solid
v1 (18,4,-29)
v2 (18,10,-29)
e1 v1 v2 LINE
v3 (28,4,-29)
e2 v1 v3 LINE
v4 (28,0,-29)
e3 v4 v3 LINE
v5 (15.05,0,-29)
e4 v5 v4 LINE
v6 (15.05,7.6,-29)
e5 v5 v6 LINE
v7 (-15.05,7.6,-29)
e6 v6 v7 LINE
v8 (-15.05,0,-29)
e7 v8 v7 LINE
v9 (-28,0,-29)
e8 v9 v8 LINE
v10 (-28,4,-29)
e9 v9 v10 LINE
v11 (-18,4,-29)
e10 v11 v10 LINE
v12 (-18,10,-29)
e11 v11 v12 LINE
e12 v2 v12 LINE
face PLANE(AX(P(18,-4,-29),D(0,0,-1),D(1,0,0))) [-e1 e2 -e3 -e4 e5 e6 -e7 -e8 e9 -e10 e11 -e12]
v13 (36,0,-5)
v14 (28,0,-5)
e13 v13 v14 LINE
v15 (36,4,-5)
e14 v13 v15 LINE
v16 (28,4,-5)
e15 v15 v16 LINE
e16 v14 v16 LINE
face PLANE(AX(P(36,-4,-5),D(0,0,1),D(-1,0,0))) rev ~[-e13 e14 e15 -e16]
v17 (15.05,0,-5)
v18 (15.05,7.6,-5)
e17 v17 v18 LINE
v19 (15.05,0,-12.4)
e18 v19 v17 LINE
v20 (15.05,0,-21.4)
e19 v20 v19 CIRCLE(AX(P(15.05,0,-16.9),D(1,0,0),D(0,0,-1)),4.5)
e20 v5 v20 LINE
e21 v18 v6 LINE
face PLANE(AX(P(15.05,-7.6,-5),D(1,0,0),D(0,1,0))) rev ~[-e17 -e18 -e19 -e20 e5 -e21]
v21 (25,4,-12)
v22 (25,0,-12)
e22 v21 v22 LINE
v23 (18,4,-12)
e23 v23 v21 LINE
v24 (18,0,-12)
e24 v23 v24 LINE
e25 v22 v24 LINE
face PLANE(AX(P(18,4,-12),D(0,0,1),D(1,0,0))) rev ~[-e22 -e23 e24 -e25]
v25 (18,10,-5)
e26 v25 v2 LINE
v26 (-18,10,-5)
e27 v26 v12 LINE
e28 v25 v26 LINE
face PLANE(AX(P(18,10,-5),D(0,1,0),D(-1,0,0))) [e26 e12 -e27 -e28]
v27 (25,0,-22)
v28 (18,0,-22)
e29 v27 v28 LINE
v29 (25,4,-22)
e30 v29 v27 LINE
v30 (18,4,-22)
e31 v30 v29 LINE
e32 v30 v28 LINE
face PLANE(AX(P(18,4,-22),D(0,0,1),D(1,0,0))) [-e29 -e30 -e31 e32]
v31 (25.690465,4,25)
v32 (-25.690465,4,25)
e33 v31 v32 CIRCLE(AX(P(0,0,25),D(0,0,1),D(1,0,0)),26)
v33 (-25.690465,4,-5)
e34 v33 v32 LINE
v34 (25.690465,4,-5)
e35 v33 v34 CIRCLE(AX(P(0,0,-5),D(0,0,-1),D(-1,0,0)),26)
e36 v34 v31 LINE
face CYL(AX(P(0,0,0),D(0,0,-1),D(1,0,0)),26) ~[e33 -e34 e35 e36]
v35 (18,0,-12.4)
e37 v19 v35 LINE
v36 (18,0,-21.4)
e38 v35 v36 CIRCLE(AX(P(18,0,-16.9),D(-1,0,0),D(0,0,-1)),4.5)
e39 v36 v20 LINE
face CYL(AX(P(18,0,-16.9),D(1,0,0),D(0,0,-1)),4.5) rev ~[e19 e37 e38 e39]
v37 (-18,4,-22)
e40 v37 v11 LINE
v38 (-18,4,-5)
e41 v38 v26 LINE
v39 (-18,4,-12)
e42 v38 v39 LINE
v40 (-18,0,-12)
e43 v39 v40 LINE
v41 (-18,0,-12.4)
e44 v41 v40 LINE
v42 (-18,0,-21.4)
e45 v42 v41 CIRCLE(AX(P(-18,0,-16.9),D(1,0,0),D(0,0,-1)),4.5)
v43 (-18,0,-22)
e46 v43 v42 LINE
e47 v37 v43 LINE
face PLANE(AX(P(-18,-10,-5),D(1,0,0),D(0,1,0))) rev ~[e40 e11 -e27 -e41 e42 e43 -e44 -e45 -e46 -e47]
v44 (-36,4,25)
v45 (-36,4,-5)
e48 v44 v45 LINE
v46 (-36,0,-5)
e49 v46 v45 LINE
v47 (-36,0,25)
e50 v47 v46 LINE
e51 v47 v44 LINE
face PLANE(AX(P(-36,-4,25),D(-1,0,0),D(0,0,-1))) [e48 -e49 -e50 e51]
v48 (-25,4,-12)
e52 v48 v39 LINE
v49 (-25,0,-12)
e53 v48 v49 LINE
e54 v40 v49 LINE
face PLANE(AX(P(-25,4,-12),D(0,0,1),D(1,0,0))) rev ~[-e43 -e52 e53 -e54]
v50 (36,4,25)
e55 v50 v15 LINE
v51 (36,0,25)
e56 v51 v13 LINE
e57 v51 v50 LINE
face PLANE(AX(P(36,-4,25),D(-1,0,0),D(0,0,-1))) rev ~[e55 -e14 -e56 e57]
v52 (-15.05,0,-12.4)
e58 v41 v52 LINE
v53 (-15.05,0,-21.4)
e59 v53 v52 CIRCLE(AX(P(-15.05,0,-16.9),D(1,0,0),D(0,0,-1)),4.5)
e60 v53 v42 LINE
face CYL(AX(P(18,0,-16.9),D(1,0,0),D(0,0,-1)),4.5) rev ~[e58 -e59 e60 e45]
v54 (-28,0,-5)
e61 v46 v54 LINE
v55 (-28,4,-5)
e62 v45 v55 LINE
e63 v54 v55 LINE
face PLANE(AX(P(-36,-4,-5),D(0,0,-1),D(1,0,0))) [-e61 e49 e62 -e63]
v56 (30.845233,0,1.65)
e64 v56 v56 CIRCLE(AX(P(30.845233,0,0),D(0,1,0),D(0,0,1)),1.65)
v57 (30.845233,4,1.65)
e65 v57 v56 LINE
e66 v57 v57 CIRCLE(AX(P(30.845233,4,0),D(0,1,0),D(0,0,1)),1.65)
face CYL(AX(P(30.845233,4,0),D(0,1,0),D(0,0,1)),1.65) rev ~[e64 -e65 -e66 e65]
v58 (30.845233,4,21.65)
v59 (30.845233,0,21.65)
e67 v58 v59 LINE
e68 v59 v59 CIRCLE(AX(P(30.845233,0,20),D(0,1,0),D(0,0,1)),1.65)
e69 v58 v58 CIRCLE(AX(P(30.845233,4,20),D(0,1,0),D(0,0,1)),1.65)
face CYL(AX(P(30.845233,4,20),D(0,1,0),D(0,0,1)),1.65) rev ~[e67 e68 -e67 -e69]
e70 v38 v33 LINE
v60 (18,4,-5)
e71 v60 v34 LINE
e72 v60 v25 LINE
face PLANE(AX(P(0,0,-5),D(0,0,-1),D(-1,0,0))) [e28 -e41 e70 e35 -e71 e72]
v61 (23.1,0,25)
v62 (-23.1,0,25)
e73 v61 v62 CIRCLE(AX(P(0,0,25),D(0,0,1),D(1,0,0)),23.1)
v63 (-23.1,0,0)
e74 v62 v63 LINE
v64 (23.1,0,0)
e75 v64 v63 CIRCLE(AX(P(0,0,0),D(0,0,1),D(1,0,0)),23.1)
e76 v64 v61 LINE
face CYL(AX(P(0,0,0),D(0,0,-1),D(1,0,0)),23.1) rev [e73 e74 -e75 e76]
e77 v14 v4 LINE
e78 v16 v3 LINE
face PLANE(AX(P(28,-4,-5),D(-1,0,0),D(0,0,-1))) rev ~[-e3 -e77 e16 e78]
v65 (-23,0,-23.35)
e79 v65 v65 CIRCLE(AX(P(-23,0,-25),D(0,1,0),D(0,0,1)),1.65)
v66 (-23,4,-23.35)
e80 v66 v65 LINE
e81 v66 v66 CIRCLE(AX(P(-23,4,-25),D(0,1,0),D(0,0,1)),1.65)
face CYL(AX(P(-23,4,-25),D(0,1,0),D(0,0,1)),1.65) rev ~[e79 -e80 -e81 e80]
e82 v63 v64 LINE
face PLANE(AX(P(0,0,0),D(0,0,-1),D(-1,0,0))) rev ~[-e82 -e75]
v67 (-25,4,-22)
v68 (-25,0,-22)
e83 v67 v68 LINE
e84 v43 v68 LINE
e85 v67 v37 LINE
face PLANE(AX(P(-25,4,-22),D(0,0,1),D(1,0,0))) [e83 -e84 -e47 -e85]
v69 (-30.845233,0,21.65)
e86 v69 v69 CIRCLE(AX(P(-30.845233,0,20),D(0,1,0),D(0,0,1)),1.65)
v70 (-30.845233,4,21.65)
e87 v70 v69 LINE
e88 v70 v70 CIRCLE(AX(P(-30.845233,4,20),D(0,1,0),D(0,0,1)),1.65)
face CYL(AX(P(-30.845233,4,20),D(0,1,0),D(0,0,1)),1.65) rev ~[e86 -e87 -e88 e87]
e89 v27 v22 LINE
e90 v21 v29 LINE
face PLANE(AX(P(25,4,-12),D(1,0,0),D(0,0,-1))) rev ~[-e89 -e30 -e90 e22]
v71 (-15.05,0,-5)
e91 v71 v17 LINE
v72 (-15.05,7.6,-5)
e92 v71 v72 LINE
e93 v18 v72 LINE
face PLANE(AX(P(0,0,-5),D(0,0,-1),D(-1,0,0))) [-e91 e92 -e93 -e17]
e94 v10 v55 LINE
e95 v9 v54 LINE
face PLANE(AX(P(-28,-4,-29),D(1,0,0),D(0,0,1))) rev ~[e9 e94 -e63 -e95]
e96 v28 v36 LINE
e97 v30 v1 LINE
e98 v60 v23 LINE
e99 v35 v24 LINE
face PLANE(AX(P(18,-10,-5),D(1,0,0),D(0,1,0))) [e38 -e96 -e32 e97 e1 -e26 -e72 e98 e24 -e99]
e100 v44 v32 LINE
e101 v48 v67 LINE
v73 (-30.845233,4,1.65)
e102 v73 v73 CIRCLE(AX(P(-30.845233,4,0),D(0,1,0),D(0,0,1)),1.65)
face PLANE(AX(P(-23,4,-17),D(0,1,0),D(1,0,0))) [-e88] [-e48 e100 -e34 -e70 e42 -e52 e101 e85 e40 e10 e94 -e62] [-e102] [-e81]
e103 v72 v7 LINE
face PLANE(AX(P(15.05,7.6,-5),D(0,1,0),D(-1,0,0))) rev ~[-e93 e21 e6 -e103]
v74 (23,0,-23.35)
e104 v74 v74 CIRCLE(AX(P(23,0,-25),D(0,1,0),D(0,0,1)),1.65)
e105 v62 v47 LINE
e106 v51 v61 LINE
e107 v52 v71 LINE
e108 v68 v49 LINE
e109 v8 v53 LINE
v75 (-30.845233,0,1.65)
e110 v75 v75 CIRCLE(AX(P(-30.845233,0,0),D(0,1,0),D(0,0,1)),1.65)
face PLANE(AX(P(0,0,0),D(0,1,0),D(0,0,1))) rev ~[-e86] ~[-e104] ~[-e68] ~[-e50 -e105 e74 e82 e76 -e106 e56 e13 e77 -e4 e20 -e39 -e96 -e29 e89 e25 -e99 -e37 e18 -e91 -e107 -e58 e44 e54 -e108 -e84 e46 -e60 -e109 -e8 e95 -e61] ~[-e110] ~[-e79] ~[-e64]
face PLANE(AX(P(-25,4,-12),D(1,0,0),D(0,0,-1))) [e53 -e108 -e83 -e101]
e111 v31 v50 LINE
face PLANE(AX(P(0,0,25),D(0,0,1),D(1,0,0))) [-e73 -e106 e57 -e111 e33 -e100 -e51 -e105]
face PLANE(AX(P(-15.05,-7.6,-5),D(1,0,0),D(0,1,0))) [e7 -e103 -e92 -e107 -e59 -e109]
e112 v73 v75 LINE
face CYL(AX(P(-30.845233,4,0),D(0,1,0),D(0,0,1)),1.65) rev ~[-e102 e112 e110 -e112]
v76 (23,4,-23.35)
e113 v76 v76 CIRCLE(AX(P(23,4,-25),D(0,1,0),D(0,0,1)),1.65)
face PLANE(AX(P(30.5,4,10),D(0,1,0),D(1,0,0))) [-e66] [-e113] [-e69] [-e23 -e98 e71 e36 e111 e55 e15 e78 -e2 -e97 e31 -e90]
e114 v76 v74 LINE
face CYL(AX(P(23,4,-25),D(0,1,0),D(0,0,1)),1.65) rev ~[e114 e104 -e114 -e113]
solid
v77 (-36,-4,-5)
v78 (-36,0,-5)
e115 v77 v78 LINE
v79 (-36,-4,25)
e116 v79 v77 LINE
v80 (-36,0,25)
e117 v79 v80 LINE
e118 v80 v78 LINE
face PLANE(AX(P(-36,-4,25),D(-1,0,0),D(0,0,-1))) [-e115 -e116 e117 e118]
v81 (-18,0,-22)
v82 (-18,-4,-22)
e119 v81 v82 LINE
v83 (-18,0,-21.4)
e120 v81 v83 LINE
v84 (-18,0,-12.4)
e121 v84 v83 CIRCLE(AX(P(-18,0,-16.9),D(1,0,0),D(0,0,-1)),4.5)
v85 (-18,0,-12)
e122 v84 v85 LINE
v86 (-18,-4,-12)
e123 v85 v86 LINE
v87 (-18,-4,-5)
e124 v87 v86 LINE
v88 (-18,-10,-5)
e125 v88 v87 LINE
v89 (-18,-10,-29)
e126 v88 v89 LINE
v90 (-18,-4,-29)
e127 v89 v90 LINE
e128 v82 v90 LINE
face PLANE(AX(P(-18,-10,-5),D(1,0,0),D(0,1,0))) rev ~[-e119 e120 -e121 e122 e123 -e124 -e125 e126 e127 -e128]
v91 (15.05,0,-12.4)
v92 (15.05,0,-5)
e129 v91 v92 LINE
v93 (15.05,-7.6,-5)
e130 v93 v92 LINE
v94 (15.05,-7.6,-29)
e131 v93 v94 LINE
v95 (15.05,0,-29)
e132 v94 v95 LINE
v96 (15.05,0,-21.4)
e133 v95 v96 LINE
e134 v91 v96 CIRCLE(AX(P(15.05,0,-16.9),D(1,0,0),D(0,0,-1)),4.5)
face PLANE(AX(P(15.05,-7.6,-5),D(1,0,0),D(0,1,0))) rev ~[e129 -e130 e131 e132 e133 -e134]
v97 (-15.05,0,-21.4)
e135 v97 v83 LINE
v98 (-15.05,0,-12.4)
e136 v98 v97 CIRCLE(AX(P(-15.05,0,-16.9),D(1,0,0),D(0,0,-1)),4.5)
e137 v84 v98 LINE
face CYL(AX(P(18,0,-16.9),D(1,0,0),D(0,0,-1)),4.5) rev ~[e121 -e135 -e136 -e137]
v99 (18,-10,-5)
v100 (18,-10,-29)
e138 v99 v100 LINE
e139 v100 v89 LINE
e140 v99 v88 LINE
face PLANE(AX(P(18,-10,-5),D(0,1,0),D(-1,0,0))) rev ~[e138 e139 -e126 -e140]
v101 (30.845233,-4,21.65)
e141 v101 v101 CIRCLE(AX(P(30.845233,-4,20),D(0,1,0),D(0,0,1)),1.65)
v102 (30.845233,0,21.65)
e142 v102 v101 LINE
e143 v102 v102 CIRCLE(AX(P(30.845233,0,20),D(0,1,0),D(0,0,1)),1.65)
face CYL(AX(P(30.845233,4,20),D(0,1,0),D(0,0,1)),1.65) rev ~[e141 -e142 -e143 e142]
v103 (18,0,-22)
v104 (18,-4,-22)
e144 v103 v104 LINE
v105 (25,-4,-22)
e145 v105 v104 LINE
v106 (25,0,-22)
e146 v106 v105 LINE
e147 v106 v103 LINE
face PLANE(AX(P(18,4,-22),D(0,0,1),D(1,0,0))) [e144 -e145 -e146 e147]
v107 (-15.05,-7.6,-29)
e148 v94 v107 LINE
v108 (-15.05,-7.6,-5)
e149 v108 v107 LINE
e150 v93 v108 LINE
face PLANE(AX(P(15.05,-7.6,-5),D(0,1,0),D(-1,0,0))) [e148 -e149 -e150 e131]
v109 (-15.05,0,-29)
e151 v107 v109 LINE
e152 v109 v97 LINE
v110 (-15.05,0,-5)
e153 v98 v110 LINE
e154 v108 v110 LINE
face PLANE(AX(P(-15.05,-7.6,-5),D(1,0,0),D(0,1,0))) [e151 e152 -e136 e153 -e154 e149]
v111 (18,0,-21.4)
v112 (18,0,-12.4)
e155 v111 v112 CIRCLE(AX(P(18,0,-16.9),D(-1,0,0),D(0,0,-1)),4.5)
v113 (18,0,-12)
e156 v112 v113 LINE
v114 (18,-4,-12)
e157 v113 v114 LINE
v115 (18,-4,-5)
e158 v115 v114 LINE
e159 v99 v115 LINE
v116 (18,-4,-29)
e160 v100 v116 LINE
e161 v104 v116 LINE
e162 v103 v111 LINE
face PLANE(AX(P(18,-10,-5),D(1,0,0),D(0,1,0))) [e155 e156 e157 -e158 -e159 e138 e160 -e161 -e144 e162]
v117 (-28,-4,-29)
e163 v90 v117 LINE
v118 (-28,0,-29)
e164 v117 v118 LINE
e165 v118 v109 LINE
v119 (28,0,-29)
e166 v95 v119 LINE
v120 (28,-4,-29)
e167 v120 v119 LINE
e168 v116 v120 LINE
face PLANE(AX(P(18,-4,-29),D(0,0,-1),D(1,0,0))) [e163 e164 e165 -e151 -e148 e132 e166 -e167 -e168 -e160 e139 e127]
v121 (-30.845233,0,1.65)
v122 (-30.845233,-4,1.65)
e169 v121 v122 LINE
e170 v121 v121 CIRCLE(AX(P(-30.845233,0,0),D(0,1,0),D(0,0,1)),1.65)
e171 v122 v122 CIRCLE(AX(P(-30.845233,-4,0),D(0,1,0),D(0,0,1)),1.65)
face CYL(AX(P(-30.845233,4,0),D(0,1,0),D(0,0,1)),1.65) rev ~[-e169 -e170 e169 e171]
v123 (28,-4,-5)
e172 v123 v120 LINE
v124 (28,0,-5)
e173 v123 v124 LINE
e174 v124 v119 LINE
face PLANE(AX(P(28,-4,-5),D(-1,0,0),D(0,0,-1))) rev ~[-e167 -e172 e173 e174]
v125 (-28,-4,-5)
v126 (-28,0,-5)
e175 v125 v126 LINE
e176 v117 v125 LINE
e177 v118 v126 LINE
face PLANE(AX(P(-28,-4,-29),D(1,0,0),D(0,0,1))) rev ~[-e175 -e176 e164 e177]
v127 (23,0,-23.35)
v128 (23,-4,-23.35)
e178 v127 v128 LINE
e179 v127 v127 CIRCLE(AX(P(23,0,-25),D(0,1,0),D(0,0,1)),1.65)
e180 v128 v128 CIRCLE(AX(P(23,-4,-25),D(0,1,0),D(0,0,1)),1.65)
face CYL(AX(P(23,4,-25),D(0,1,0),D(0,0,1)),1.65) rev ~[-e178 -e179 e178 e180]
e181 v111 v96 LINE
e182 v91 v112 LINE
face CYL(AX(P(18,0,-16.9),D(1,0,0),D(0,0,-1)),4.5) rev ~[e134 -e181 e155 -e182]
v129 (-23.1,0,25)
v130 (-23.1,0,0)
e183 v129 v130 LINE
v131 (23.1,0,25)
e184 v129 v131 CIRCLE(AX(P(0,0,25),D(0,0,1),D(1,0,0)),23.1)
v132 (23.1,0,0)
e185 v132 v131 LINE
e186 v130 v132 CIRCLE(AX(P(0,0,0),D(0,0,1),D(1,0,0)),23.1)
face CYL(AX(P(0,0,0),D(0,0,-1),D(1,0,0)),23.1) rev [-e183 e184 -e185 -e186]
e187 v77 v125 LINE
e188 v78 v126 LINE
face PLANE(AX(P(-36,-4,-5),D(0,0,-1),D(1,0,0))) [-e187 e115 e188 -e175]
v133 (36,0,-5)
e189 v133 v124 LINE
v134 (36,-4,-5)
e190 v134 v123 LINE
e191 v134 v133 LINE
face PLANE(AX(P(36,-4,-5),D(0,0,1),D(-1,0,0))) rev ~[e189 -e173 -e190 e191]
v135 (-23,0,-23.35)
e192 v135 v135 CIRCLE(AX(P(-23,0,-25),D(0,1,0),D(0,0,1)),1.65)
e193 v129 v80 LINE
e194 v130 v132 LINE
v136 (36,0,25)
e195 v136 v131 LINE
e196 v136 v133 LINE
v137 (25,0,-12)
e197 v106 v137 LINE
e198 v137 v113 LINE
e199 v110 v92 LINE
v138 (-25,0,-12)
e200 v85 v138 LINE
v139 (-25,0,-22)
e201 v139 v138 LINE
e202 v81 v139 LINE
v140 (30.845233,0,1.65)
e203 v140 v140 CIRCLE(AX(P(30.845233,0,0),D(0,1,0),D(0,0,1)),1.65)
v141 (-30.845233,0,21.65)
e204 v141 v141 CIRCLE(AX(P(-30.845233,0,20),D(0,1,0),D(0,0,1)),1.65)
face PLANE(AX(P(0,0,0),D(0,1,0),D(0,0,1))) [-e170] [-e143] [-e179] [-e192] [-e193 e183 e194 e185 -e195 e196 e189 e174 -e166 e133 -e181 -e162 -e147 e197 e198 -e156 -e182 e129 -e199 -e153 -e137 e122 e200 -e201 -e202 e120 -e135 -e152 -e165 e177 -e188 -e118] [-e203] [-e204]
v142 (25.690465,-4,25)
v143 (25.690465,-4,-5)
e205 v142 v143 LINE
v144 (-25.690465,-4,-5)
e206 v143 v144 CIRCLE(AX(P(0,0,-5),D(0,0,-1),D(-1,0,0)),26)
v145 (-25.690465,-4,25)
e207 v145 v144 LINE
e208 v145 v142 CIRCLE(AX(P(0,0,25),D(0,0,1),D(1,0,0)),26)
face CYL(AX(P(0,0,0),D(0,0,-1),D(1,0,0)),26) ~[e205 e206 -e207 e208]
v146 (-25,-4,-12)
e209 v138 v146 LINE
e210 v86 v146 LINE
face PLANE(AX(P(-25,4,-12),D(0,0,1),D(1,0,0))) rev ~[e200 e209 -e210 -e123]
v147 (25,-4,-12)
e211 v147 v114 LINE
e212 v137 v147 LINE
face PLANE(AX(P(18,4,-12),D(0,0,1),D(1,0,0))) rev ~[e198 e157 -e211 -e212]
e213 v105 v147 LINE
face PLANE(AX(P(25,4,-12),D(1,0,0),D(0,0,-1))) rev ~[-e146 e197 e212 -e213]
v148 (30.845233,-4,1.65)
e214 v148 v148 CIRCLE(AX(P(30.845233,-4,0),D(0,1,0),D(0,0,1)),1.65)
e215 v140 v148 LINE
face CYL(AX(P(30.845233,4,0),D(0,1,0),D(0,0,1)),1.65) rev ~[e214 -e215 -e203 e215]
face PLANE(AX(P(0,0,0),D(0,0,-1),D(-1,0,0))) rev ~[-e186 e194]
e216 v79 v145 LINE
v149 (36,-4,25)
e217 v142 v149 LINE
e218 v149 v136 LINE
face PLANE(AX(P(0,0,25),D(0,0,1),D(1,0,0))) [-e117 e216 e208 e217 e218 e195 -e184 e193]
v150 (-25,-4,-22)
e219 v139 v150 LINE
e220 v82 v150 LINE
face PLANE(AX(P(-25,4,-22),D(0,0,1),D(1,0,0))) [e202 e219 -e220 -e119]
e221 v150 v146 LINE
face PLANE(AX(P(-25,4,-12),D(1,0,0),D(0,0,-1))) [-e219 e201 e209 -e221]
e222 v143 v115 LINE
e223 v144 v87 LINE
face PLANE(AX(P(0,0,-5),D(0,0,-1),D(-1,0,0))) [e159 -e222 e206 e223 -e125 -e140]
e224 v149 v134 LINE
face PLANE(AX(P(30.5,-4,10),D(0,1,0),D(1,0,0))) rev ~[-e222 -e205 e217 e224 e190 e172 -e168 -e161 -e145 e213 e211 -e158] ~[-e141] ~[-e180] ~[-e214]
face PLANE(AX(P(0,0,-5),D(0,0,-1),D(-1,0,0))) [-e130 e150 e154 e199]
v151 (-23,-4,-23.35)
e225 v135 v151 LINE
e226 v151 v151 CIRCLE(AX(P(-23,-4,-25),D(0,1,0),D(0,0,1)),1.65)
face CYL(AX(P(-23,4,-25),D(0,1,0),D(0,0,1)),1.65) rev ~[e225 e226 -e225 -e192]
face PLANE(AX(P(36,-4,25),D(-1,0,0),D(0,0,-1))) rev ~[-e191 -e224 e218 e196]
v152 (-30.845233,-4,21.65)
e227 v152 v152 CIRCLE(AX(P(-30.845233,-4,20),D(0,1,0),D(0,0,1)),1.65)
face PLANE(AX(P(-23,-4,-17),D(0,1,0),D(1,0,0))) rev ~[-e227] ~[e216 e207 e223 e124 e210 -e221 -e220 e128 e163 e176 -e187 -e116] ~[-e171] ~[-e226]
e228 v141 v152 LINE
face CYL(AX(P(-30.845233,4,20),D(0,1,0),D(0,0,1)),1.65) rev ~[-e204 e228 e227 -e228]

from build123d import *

# Parameters (mm, degrees)
SKETCH_1_R           = 26
SKETCH_1_R_2         = 23.1
EXTRUDE_1_DEPTH      = 25
EXTRUDE_START        = 5
SKETCH_2_R           = 26
EXTRUDE_2_DEPTH      = 5
SKETCH_3_W           = 36
SKETCH_3_H           = 20
SKETCH_3_W_2         = 30.1
SKETCH_3_H_2         = 15.2
EXTRUDE_3_DEPTH      = 24
CUT_EXTRUDE_1_REACH  = 60.762
SKETCH_4_R           = 4.5
EXTRUDE_4_DEPTH      = 4
EXTRUDE_4_DEPTH_BACK = 4
SKETCH_5_W           = 10
SKETCH_5_H           = 24
SKETCH_5_W_2         = 11
SKETCH_5_H_2         = 30
CUT_EXTRUDE_2_REACH  = 57.109
SKETCH_6_R           = 1.65
SKETCH_6_W           = 7
SKETCH_6_H           = 10


with BuildPart() as part:
    # ｽｹｯﾁ1 → ﾎﾞｽ - 押し出し1 (new body)
    with BuildSketch(Plane.XY):
        Circle(SKETCH_1_R)
        Circle(SKETCH_1_R_2, mode=Mode.SUBTRACT)
    extrude(amount=EXTRUDE_1_DEPTH)

    # ｽｹｯﾁ2 → ﾎﾞｽ - 押し出し2 (add)
    with BuildSketch(Plane(origin=(0, 0, 0), x_dir=(-1, 0, 0), z_dir=(0, 0, -1)).offset(EXTRUDE_START)):
        Circle(SKETCH_2_R)
    extrude(amount=-EXTRUDE_2_DEPTH)

    # ｽｹｯﾁ3 → ﾎﾞｽ - 押し出し3 (add)
    with BuildSketch(Plane(origin=(0, 0, -5), x_dir=(-1, 0, 0), z_dir=(0, 0, -1))):
        Rectangle(SKETCH_3_W, SKETCH_3_H)
        Rectangle(SKETCH_3_W_2, SKETCH_3_H_2, mode=Mode.SUBTRACT)
    extrude(amount=EXTRUDE_3_DEPTH)

    # ｶｯﾄ - 押し出し1: up to this face of the body (flat: up to its plane)
    cut_extrude_1_end = Plane(part.part.faces().sort_by_distance((-18, 0, -17))[0])
    # ｽｹｯﾁ4 → ｶｯﾄ - 押し出し1 (cut, up to the picked face)
    with BuildSketch(Plane(origin=(18, 0, 0), x_dir=(0, 0, -1), z_dir=(1, 0, 0)), mode=Mode.PRIVATE) as cut_extrude_1_sk1:
        with Locations((16.9, 0)):
            Circle(SKETCH_4_R)
    cut_extrude_1_tool1 = split(extrude(cut_extrude_1_sk1.sketch, amount=-CUT_EXTRUDE_1_REACH, mode=Mode.PRIVATE), bisect_by=cut_extrude_1_end, keep=Keep.BOTH, mode=Mode.PRIVATE)
    add(cut_extrude_1_tool1.solids().sort_by(Axis((18, 0, -16.9), (-1, 0, 0)))[0], mode=Mode.SUBTRACT)

    # ｽｹｯﾁ5 → ﾎﾞｽ - 押し出し4 (add, two sides: drawn at the far end of the back side and taken through both)
    with BuildSketch(Plane(origin=(0, 0, 0), x_dir=(1, 0, 0), z_dir=(0, 1, 0)).offset(-EXTRUDE_4_DEPTH_BACK)):
        Polygon((28, 5), (25, 5), (25, -25), (36, -25), (36, 5), align=None)
        with Locations((23, 17)):
            Rectangle(SKETCH_5_W, SKETCH_5_H)
        Polygon((-28, 29), (-28, 5), (-25, 5), (-18, 5), (-18, 29), align=None)
        with Locations((-30.5, -10)):
            Rectangle(SKETCH_5_W_2, SKETCH_5_H_2)
    extrude(amount=EXTRUDE_4_DEPTH + EXTRUDE_4_DEPTH_BACK)

    # ｽｹｯﾁ6 → ｶｯﾄ - 押し出し2 (cut, up to next)
    with BuildSketch(Plane(origin=(0, 4, 0), x_dir=(1, 0, 0), z_dir=(0, 1, 0)), mode=Mode.PRIVATE) as cut_extrude_2_sk1:
        with Locations(Location((23, 25, 0), (0, 0, 270))):
            Circle(SKETCH_6_R)
    cut_extrude_2_tool1 = extrude(cut_extrude_2_sk1.sketch, amount=-CUT_EXTRUDE_2_REACH, mode=Mode.PRIVATE) & part.part
    # ｽｹｯﾁ6 → ｶｯﾄ - 押し出し2 (cut, up to next)
    with BuildSketch(Plane(origin=(0, 4, 0), x_dir=(1, 0, 0), z_dir=(0, 1, 0)), mode=Mode.PRIVATE) as cut_extrude_2_sk2:
        with Locations(Location((30.845232579, 0, 0), (0, 0, 270))):
            Circle(SKETCH_6_R)
    cut_extrude_2_tool2 = extrude(cut_extrude_2_sk2.sketch, amount=-CUT_EXTRUDE_2_REACH, mode=Mode.PRIVATE) & part.part
    # ｽｹｯﾁ6 → ｶｯﾄ - 押し出し2 (cut, up to next)
    with BuildSketch(Plane(origin=(0, 4, 0), x_dir=(1, 0, 0), z_dir=(0, 1, 0)), mode=Mode.PRIVATE) as cut_extrude_2_sk3:
        with Locations(Location((30.845232579, -20, 0), (0, 0, 270))):
            Circle(SKETCH_6_R)
    cut_extrude_2_tool3 = extrude(cut_extrude_2_sk3.sketch, amount=-CUT_EXTRUDE_2_REACH, mode=Mode.PRIVATE) & part.part
    # ｽｹｯﾁ6 → ｶｯﾄ - 押し出し2 (cut, up to next)
    with BuildSketch(Plane(origin=(0, 4, 0), x_dir=(1, 0, 0), z_dir=(0, 1, 0)), mode=Mode.PRIVATE) as cut_extrude_2_sk4:
        with Locations(Location((-30.845232579, -20, 0), (0, 0, 270))):
            Circle(SKETCH_6_R)
    cut_extrude_2_tool4 = extrude(cut_extrude_2_sk4.sketch, amount=-CUT_EXTRUDE_2_REACH, mode=Mode.PRIVATE) & part.part
    # ｽｹｯﾁ6 → ｶｯﾄ - 押し出し2 (cut, up to next)
    with BuildSketch(Plane(origin=(0, 4, 0), x_dir=(1, 0, 0), z_dir=(0, 1, 0)), mode=Mode.PRIVATE) as cut_extrude_2_sk5:
        with Locations(Location((-30.845232579, 0, 0), (0, 0, 270))):
            Circle(SKETCH_6_R)
    cut_extrude_2_tool5 = extrude(cut_extrude_2_sk5.sketch, amount=-CUT_EXTRUDE_2_REACH, mode=Mode.PRIVATE) & part.part
    # ｽｹｯﾁ6 → ｶｯﾄ - 押し出し2 (cut, up to next)
    with BuildSketch(Plane(origin=(0, 4, 0), x_dir=(1, 0, 0), z_dir=(0, 1, 0)), mode=Mode.PRIVATE) as cut_extrude_2_sk6:
        with Locations(Location((-23, 25, 0), (0, 0, 270))):
            Circle(SKETCH_6_R)
    cut_extrude_2_tool6 = extrude(cut_extrude_2_sk6.sketch, amount=-CUT_EXTRUDE_2_REACH, mode=Mode.PRIVATE) & part.part
    # ｽｹｯﾁ6 → ｶｯﾄ - 押し出し2 (cut, up to next)
    with BuildSketch(Plane(origin=(0, 4, 0), x_dir=(1, 0, 0), z_dir=(0, 1, 0)), mode=Mode.PRIVATE) as cut_extrude_2_sk7:
        with Locations((21.5, 17)):
            Rectangle(SKETCH_6_W, SKETCH_6_H)
    cut_extrude_2_tool7 = extrude(cut_extrude_2_sk7.sketch, amount=-CUT_EXTRUDE_2_REACH, mode=Mode.PRIVATE) & part.part
    # ｽｹｯﾁ6 → ｶｯﾄ - 押し出し2 (cut, up to next)
    with BuildSketch(Plane(origin=(0, 4, 0), x_dir=(1, 0, 0), z_dir=(0, 1, 0)), mode=Mode.PRIVATE) as cut_extrude_2_sk8:
        with Locations((-21.5, 17)):
            Rectangle(SKETCH_6_W, SKETCH_6_H)
    cut_extrude_2_tool8 = extrude(cut_extrude_2_sk8.sketch, amount=-CUT_EXTRUDE_2_REACH, mode=Mode.PRIVATE) & part.part
    add(cut_extrude_2_tool1.solids().sort_by_distance((23, 4, -25))[0], mode=Mode.SUBTRACT)
    add(cut_extrude_2_tool2.solids().sort_by_distance((30.845233, 4, 0))[0], mode=Mode.SUBTRACT)
    add(cut_extrude_2_tool3.solids().sort_by_distance((30.845233, 4, 20))[0], mode=Mode.SUBTRACT)
    add(cut_extrude_2_tool4.solids().sort_by_distance((-30.845233, 4, 20))[0], mode=Mode.SUBTRACT)
    add(cut_extrude_2_tool5.solids().sort_by_distance((-30.845233, 4, 0))[0], mode=Mode.SUBTRACT)
    add(cut_extrude_2_tool6.solids().sort_by_distance((-23, 4, -25))[0], mode=Mode.SUBTRACT)
    add(cut_extrude_2_tool7.solids().sort_by_distance((21.5, 4, -17))[0], mode=Mode.SUBTRACT)
    add(cut_extrude_2_tool8.solids().sort_by_distance((-21.5, 4, -17))[0], mode=Mode.SUBTRACT)


with BuildPart() as body_2:
    # Split Bodies 1: the piece on the far side of the plane
    add(part.part)
    split(bisect_by=Plane.ZX, keep=Keep.BOTTOM)


with BuildPart() as part_1:
    add(part.part)

    # Split Bodies 1
    split(bisect_by=Plane.ZX, keep=Keep.TOP)


solid = Compound([body_2.part, part_1.part])
